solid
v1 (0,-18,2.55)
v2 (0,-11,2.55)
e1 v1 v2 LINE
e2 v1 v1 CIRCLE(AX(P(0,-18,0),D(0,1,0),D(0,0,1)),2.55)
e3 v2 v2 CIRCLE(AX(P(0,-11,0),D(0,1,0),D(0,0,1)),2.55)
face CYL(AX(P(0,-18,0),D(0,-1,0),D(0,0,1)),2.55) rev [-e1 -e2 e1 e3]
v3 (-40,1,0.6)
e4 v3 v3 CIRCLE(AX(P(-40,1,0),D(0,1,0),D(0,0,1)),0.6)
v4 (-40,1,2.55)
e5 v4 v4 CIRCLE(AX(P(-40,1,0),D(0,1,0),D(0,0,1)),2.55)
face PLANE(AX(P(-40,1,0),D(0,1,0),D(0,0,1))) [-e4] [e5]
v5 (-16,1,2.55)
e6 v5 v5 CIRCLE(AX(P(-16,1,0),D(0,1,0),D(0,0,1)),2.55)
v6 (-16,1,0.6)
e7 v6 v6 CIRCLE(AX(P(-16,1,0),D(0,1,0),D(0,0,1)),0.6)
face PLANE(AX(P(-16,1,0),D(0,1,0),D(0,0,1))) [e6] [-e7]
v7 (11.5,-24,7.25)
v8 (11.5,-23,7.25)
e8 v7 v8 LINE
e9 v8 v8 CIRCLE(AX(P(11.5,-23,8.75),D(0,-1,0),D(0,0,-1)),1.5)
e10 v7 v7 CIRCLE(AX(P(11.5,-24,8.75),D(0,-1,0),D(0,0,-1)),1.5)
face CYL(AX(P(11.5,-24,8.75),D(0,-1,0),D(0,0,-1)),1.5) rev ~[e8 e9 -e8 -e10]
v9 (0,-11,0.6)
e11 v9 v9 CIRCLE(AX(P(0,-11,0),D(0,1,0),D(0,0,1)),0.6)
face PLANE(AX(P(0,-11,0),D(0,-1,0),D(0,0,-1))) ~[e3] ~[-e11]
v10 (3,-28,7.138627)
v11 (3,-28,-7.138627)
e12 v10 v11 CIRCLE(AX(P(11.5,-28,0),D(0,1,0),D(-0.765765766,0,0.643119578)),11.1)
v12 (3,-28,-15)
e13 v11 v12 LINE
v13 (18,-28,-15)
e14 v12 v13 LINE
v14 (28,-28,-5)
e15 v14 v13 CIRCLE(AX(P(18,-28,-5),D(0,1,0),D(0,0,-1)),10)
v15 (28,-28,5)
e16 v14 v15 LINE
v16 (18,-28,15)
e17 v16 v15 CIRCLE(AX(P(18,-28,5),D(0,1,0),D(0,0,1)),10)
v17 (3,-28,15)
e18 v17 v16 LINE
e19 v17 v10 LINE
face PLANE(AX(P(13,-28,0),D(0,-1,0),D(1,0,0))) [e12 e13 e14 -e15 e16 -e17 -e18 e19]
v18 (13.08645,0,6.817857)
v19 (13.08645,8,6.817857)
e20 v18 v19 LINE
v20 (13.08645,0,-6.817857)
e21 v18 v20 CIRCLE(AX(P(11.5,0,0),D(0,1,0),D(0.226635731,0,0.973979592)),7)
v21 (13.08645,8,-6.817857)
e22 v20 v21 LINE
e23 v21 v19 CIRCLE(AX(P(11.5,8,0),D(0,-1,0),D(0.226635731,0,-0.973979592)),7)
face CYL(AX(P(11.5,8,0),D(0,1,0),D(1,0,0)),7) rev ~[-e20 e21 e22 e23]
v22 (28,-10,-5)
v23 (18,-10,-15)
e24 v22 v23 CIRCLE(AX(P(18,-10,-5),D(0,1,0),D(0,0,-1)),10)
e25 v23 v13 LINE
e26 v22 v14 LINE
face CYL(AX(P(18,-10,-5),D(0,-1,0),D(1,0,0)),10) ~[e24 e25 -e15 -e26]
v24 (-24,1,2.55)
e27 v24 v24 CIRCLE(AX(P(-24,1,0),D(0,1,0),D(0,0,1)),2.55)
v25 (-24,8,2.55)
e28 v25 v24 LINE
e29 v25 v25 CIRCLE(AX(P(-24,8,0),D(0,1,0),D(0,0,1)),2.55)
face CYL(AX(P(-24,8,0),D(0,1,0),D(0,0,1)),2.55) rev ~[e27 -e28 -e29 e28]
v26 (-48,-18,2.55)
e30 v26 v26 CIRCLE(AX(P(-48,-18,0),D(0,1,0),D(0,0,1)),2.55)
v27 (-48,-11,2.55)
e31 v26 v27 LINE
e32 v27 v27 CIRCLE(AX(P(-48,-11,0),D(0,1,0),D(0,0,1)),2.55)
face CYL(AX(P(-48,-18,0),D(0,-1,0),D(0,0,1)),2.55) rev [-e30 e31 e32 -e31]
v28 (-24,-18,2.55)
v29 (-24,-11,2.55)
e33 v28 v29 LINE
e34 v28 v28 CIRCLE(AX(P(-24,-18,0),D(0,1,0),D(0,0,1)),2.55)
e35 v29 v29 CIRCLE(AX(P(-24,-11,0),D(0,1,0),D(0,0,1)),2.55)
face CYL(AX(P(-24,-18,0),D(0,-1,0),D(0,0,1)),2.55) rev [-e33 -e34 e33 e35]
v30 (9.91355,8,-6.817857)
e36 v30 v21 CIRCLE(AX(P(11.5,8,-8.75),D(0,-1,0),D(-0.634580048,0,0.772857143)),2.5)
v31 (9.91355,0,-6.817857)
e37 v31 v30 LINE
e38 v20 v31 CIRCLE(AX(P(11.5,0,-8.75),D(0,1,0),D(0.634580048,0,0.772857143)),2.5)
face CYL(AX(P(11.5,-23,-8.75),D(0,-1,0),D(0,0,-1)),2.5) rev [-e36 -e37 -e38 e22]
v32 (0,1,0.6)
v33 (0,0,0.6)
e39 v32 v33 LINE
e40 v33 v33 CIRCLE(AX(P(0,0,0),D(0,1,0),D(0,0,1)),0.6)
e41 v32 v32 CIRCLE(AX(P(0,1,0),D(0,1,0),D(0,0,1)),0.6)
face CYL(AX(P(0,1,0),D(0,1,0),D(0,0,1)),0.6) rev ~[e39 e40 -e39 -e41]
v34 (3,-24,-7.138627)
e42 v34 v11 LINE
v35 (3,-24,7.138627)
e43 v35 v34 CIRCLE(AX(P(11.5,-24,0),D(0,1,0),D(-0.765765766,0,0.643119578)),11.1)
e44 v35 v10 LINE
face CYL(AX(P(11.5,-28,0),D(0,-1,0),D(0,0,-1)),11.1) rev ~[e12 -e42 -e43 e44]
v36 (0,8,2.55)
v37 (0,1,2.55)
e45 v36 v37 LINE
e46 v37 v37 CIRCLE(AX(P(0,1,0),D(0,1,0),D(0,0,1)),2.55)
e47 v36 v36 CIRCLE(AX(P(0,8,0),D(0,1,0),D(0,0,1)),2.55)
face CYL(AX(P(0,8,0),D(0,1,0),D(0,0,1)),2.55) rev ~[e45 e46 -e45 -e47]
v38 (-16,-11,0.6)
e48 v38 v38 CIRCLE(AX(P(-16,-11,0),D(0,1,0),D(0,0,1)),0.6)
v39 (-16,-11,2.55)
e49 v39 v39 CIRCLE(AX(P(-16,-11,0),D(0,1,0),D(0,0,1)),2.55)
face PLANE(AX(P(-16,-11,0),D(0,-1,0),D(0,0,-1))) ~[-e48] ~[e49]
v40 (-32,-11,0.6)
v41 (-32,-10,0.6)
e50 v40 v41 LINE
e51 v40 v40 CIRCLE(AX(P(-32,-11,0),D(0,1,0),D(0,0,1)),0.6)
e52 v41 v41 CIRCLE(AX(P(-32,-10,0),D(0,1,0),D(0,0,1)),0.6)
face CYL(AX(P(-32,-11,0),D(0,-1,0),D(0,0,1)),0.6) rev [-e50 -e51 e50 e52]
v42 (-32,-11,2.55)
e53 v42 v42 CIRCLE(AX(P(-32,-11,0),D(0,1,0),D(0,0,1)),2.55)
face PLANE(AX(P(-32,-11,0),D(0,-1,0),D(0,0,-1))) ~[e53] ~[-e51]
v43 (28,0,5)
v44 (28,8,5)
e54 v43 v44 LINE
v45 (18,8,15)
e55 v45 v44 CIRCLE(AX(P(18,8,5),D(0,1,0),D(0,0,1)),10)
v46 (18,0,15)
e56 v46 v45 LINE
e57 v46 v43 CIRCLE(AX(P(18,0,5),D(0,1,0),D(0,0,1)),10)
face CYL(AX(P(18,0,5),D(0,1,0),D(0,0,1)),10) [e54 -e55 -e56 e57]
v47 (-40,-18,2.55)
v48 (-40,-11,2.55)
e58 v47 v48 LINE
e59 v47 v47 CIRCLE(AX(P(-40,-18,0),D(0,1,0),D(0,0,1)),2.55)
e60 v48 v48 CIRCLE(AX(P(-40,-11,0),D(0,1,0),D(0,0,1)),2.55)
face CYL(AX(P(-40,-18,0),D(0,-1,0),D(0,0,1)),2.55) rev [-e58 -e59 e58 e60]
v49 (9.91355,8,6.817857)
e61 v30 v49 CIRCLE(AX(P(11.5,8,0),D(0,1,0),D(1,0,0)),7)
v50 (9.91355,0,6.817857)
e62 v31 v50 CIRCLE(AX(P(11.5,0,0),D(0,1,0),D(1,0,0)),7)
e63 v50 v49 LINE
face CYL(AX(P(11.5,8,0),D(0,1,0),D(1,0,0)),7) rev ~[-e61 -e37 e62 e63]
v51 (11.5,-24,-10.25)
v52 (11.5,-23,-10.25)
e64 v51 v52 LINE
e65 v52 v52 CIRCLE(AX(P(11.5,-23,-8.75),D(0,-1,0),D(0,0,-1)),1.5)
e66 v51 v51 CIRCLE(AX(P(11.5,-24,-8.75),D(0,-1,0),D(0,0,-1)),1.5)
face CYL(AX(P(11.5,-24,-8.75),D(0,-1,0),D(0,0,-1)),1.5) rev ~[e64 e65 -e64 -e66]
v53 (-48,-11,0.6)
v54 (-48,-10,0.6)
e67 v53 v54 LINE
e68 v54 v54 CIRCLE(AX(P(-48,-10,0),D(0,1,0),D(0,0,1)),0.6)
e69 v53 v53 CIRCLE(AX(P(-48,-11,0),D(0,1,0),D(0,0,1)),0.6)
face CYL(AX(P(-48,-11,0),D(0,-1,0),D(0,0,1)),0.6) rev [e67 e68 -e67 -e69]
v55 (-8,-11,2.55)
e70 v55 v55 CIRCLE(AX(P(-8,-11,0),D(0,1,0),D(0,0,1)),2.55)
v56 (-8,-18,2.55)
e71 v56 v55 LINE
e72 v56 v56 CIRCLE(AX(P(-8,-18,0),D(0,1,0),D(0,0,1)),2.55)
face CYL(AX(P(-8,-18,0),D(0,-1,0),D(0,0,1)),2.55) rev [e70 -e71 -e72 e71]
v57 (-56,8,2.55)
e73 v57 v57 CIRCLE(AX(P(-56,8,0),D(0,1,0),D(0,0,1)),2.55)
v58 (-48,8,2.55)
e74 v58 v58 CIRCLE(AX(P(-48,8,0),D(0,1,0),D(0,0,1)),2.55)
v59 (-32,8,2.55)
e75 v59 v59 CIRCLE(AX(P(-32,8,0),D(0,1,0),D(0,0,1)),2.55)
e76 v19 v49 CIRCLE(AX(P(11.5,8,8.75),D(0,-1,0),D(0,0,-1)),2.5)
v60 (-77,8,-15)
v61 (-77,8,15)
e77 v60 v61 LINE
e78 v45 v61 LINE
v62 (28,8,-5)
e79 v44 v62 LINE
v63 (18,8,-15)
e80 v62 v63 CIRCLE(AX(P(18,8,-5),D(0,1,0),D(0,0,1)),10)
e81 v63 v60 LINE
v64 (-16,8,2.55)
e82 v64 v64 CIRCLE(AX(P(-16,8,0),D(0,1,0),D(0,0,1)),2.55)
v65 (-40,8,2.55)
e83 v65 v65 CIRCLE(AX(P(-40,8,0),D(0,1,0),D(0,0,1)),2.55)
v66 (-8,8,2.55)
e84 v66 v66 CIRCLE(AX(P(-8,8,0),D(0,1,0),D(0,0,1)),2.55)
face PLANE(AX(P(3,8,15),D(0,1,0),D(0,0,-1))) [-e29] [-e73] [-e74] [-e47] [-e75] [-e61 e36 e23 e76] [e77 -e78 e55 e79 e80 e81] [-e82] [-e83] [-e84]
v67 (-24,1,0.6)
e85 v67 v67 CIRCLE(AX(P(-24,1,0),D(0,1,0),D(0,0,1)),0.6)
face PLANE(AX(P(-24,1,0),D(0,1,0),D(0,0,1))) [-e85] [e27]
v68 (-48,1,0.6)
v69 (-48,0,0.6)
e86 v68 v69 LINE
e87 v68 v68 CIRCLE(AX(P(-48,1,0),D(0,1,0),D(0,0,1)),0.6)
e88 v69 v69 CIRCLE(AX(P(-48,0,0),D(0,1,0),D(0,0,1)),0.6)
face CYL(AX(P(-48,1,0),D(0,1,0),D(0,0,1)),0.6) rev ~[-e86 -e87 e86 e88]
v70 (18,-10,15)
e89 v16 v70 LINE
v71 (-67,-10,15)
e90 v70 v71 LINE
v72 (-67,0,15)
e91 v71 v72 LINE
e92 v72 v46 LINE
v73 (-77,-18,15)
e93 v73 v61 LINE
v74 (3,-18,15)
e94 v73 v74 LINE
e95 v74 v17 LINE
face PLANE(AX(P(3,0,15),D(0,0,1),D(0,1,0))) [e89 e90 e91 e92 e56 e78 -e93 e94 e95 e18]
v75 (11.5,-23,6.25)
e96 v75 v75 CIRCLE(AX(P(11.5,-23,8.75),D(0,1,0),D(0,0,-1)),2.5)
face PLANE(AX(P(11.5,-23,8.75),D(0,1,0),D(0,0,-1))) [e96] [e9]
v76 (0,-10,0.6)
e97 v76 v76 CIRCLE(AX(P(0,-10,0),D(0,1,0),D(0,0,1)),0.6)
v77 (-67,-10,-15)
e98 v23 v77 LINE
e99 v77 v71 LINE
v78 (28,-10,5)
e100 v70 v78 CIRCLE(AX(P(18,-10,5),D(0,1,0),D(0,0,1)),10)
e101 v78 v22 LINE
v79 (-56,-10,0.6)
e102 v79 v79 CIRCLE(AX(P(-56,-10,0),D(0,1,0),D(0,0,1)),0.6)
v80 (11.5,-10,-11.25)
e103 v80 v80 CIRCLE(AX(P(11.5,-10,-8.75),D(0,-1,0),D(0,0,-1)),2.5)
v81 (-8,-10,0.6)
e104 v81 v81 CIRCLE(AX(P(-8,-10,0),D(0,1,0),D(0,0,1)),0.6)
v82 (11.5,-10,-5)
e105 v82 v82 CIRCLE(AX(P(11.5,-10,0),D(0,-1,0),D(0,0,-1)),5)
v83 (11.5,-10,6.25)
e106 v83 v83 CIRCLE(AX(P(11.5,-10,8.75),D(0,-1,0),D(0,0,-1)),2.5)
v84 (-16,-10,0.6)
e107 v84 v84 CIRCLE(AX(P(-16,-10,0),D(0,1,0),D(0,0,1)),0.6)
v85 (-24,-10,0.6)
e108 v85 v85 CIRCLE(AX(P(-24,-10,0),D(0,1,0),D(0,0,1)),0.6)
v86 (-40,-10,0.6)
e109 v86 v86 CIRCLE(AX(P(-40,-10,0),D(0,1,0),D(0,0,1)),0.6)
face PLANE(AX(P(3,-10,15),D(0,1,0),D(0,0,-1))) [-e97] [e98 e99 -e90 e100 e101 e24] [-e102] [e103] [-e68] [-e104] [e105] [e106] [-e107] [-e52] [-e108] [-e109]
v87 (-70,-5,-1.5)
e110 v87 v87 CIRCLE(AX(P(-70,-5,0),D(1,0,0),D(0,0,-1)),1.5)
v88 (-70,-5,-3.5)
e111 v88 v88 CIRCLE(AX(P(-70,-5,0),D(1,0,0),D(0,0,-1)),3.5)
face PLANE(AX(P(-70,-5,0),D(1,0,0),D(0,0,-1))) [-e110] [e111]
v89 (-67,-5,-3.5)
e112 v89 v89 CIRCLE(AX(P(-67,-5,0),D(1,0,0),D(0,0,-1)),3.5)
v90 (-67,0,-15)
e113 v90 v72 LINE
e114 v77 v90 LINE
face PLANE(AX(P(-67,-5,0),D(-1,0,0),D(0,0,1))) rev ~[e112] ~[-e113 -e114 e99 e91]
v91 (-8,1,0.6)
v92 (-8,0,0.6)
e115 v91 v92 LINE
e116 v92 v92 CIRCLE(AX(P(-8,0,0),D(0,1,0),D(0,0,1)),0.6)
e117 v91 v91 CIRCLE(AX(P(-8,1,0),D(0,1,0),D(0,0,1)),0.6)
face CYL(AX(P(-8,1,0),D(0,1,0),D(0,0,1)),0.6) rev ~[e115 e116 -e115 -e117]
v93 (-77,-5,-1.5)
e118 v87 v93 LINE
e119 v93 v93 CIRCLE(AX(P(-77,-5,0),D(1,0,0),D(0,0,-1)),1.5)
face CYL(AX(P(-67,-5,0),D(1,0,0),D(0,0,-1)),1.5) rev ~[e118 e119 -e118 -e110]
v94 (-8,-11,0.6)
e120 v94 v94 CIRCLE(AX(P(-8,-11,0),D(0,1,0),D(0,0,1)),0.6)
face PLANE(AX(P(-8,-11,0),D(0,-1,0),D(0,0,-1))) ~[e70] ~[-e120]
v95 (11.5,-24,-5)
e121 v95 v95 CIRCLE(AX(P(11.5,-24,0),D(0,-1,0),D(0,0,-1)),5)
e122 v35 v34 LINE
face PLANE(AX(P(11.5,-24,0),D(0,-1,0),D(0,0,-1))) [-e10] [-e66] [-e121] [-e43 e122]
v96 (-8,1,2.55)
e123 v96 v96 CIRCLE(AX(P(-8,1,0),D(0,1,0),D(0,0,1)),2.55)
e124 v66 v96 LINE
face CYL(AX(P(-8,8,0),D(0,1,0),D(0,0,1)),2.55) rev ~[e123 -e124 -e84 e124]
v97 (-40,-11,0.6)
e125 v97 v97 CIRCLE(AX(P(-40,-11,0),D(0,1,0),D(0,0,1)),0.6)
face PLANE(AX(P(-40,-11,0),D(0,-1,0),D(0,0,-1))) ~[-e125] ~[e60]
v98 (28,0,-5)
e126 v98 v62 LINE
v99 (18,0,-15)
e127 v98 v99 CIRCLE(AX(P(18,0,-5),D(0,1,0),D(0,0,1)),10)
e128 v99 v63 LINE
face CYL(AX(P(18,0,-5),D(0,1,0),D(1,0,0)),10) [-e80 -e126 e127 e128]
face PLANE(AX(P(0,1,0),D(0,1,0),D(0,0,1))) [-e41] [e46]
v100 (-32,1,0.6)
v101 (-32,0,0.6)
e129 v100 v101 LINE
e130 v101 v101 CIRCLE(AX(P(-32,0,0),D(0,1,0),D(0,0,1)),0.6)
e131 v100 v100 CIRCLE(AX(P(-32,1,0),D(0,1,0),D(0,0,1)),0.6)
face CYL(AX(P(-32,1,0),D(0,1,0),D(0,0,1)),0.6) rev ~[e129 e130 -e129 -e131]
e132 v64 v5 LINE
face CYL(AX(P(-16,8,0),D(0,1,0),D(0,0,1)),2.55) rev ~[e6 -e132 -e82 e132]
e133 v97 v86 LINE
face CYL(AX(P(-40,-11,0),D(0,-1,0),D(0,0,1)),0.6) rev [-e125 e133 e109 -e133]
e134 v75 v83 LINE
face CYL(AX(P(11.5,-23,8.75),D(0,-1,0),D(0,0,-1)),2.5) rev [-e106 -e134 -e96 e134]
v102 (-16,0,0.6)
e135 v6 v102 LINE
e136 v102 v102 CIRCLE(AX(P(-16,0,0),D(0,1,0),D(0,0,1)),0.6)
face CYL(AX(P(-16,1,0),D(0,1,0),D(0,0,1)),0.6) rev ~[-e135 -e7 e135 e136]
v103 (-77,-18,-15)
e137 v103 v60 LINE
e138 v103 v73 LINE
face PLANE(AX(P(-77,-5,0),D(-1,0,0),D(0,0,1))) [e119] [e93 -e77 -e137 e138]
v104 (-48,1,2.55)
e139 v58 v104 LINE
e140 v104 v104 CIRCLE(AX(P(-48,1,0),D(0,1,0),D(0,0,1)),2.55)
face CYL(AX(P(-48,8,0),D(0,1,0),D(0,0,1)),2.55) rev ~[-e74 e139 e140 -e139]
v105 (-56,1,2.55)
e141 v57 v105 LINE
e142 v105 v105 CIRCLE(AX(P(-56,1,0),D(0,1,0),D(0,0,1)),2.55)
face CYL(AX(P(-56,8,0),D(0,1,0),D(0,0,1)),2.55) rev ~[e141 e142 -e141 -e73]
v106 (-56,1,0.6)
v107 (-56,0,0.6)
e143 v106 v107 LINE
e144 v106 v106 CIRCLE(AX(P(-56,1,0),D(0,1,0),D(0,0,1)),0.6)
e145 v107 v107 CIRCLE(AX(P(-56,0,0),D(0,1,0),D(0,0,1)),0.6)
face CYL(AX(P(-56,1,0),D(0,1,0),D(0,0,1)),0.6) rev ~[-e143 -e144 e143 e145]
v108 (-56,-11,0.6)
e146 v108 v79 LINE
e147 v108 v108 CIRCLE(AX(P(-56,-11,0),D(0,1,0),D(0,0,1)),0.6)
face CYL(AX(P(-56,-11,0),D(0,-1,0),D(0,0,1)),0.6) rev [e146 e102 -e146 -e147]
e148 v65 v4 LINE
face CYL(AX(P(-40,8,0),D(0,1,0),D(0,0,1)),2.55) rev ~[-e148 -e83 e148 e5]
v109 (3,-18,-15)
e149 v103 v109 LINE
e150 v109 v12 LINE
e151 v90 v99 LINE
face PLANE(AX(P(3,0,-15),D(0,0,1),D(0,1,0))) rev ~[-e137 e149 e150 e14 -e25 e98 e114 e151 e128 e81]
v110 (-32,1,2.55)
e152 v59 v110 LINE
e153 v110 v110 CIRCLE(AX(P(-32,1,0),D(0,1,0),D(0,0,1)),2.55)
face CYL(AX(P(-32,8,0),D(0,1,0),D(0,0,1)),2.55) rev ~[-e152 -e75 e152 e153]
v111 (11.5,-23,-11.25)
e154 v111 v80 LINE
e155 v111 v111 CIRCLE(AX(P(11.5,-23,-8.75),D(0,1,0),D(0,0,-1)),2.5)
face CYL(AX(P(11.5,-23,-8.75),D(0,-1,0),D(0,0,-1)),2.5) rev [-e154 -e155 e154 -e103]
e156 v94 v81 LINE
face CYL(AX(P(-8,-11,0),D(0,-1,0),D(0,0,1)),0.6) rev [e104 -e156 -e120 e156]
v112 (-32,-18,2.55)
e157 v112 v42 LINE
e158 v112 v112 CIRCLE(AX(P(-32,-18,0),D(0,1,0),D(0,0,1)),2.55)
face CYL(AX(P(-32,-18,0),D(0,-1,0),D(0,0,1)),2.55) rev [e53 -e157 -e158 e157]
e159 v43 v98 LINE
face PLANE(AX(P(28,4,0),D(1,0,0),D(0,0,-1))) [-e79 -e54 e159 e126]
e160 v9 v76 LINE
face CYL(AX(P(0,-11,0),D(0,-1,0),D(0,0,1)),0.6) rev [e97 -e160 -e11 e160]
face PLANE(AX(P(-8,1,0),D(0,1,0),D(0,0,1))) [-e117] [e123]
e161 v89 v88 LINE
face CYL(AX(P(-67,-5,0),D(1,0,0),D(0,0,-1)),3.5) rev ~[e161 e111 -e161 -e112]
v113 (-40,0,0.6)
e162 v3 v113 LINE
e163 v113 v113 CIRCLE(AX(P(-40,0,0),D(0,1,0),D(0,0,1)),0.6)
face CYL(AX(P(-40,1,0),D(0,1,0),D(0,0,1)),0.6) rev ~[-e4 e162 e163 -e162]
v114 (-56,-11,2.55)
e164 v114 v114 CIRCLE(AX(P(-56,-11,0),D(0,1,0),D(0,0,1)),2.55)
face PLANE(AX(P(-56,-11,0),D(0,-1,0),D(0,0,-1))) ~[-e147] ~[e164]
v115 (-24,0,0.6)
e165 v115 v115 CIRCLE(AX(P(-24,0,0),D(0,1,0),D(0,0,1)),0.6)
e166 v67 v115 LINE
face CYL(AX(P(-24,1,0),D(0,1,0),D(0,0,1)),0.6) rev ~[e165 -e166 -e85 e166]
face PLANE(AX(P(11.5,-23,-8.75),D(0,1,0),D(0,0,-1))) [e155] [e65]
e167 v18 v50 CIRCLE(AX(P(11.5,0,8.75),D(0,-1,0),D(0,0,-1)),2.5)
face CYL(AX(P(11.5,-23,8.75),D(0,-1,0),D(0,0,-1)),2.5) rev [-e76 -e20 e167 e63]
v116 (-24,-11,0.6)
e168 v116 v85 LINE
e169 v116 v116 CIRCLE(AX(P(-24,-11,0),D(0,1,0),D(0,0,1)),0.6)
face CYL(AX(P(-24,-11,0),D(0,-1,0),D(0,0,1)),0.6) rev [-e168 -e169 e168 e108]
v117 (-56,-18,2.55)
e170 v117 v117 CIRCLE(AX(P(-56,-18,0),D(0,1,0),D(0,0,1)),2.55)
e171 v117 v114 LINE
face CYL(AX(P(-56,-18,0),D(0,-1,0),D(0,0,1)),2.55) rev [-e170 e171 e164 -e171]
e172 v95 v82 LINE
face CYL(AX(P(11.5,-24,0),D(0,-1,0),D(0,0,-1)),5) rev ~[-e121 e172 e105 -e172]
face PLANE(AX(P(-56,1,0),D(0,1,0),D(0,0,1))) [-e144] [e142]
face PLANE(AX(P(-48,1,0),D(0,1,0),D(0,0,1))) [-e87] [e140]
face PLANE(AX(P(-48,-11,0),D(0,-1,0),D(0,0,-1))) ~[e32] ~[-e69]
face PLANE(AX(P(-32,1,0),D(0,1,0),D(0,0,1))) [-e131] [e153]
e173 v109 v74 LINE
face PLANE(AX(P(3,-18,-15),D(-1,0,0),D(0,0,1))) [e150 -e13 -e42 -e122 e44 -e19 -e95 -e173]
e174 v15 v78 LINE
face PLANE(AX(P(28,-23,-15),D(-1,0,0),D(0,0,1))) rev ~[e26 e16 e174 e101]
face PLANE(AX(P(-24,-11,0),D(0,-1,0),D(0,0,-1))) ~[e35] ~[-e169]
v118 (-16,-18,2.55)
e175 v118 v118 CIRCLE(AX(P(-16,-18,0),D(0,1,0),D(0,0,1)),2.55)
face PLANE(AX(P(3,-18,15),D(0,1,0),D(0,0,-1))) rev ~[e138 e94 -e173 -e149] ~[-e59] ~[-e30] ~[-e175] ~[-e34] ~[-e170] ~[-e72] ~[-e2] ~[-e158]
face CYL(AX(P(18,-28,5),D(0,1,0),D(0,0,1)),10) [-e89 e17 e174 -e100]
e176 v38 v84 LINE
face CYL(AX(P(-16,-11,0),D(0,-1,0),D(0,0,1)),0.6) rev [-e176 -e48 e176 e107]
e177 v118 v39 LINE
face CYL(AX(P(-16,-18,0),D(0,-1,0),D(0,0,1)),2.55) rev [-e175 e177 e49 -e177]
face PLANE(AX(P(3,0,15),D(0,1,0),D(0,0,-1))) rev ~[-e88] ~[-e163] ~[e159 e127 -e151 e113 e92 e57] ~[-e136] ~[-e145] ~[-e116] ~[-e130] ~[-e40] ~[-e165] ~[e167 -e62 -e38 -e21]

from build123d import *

# Parameters (mm, degrees)
SKETCH2_W                = 75
SKETCH2_H                = 30
BOSS_EXTRUDE1_DEPTH      = 8
SKETCH3_R                = 2.55
CUT_EXTRUDE1_DEPTH       = 7
SKETCH4_R                = 0.6
CUT_EXTRUDE2_DEPTH       = 1
LPATTERN3_COUNT          = 8
LPATTERN3_PITCH          = 8
BOSS_EXTRUDE2_DEPTH      = 5
BOSS_EXTRUDE2_DEPTH_BACK = 5
SKETCH5_W                = 30
SKETCH5_H                = 26
SKETCH6_W                = 30
SKETCH6_H                = 8
BOSS_EXTRUDE3_DEPTH      = 25
SKETCH8_W                = 25
SKETCH8_H                = 30
BOSS_EXTRUDE4_DEPTH      = 5
SKETCH9_W                = 30
SKETCH9_H                = 30
BOSS_EXTRUDE5_DEPTH      = 5
SKETCH11_R               = 11.1
CUT_EXTRUDE3_DEPTH       = 4
SKETCH13_R               = 1.5
CUT_EXTRUDE4_DEPTH       = 85.72307832
SKETCH16_W               = 30
SKETCH16_H               = 8
BOSS_EXTRUDE6_DEPTH      = 25
CUT_EXTRUDE5_DEPTH       = 81.486023631
CUT_EXTRUDE5_DEPTH_BACK  = 13
SKETCH14_R               = 2.5
SKETCH15_R               = 5
CUT_EXTRUDE6_DEPTH       = 85.72307832
FILLET2_R                = 10
FILLET3_R                = 10
CUT_EXTRUDE7_REACH       = 88.313
SKETCH18_R               = 7
SKETCH19_R               = 1.5
CUT_EXTRUDE8_DEPTH       = 101.169855745
SKETCH21_R               = 3.5
CUT_EXTRUDE9_DEPTH       = 3
SKETCH22_W               = 5
SKETCH22_H               = 30
CUT_EXTRUDE10_DEPTH      = 83.643814046


with BuildPart() as part:
    # Sketch2 → Boss-Extrude1 (new body)
    with BuildSketch(Plane(origin=(0, 0, 0), x_dir=(1, 0, 0), z_dir=(0, 1, 0))):
        with Locations((-34.5, 0)):
            Rectangle(SKETCH2_W, SKETCH2_H)
    extrude(amount=BOSS_EXTRUDE1_DEPTH)

    # Sketch3 → Cut-Extrude1 (cut)
    with BuildSketch(Plane(origin=(0, 8, 0), x_dir=(1, 0, 0), z_dir=(0, 1, 0))):
        with Locations(Location((0, 0, 0), (0, 0, 270))):
            Circle(SKETCH3_R)
    cut_extrude1 = extrude(amount=-CUT_EXTRUDE1_DEPTH, mode=Mode.SUBTRACT)

    # Sketch4 → Cut-Extrude2 (cut)
    with BuildSketch(Plane(origin=(0, 1, 0), x_dir=(1, 0, 0), z_dir=(0, 1, 0))):
        with Locations(Location((0, 0, 0), (0, 0, 270))):
            Circle(SKETCH4_R)
    cut_extrude2 = extrude(amount=-CUT_EXTRUDE2_DEPTH, mode=Mode.SUBTRACT)

    # LPattern3: Cut-Extrude1, Cut-Extrude2 ×8
    with Locations(*[(-i * LPATTERN3_PITCH, 0, 0) for i in range(1, LPATTERN3_COUNT)]):
        add(cut_extrude1, mode=Mode.SUBTRACT)
        add(cut_extrude2, mode=Mode.SUBTRACT)


with BuildPart() as body_2:
    # Mirror2: mirrored copy
    add(part.part.mirror(Plane(origin=(0, -5, 0), x_dir=(0, 0, 1), z_dir=(0, -1, 0))))


with BuildPart() as part_1:
    add(part.part)

    add(body_2.part)  # Boss-Extrude2 merges body 2
    # Sketch5 → Boss-Extrude2 (add, two sides: drawn at the far end of the back side and taken through both)
    with BuildSketch(Plane.ZY.offset(72).offset(-BOSS_EXTRUDE2_DEPTH_BACK)):
        with Locations((0, -5)):
            Rectangle(SKETCH5_W, SKETCH5_H)
    extrude(amount=BOSS_EXTRUDE2_DEPTH + BOSS_EXTRUDE2_DEPTH_BACK)

    # Sketch6 → Boss-Extrude3 (add)
    with BuildSketch(Plane(origin=(3, 0, 0), x_dir=(0, 0, -1), z_dir=(1, 0, 0))):
        with Locations((0, -14)):
            Rectangle(SKETCH6_W, SKETCH6_H)
    extrude(amount=BOSS_EXTRUDE3_DEPTH)

    # Sketch8 → Boss-Extrude4 (add)
    with BuildSketch(Plane.XZ.offset(18)):
        with Locations((15.5, 0)):
            Rectangle(SKETCH8_W, SKETCH8_H)
    extrude(amount=BOSS_EXTRUDE4_DEPTH)

    # Sketch9 → Boss-Extrude5 (add)
    with BuildSketch(Plane.XZ.offset(23)):
        with Locations((13, 0)):
            Rectangle(SKETCH9_W, SKETCH9_H)
    extrude(amount=BOSS_EXTRUDE5_DEPTH)

    # Sketch11 → Cut-Extrude3 (cut)
    with BuildSketch(Plane.XZ.offset(28)):
        with Locations(Location((11.5, 0, 0), (0, 0, 270))):
            Circle(SKETCH11_R)
    extrude(amount=-CUT_EXTRUDE3_DEPTH, mode=Mode.SUBTRACT)

    # Sketch13 → Cut-Extrude4 (cut, through all)
    with BuildSketch(Plane.XZ.offset(24)):
        with Locations(Location((11.5, 8.75, 0), (0, 0, 270))):
            Circle(SKETCH13_R)
        with Locations(Location((11.5, -8.75, 0), (0, 0, 270))):
            Circle(SKETCH13_R)
    extrude(amount=-CUT_EXTRUDE4_DEPTH, mode=Mode.SUBTRACT)

    # Sketch16 → Boss-Extrude6 (add)
    with BuildSketch(Plane(origin=(3, 0, 0), x_dir=(0, 0, -1), z_dir=(1, 0, 0))):
        with Locations((0, 4)):
            Rectangle(SKETCH16_W, SKETCH16_H)
    extrude(amount=BOSS_EXTRUDE6_DEPTH)

    # Sketch14 → Cut-Extrude5 (cut, two sides: drawn at the far end of the back side and taken through both)
    with BuildSketch(Plane(origin=(0, -10, 0), x_dir=(1, 0, 0), z_dir=(0, 1, 0)).offset(-CUT_EXTRUDE5_DEPTH_BACK)):
        with Locations(Location((11.5, 8.75, 0), (0, 0, 90))):
            Circle(SKETCH14_R)
        with Locations(Location((11.5, -8.75, 0), (0, 0, 90))):
            Circle(SKETCH14_R)
    extrude(amount=CUT_EXTRUDE5_DEPTH + CUT_EXTRUDE5_DEPTH_BACK, mode=Mode.SUBTRACT)

    # Sketch15 → Cut-Extrude6 (cut, through all)
    with BuildSketch(Plane.XZ.offset(24)):
        with Locations(Location((11.5, 0, 0), (0, 0, 270))):
            Circle(SKETCH15_R)
    extrude(amount=-CUT_EXTRUDE6_DEPTH, mode=Mode.SUBTRACT)

    # Fillet2
    fillet2_edges = [part_1.edges().sort_by_distance(p)[0] for p in [
        (28, -19, 15),
        (28, -19, -15),
    ]]
    fillet(fillet2_edges, radius=FILLET2_R)

    # Fillet3
    fillet3_edges = [part_1.edges().sort_by_distance(p)[0] for p in [
        (28, 4, 15),
        (28, 4, -15),
    ]]
    fillet(fillet3_edges, radius=FILLET3_R)

    # Sketch18 → Cut-Extrude7 (cut, up to next)
    with BuildSketch(Plane(origin=(0, 8, 0), x_dir=(1, 0, 0), z_dir=(0, 1, 0)), mode=Mode.PRIVATE) as cut_extrude7_sk1:
        with Locations((11.5, 0)):
            Circle(SKETCH18_R)
    cut_extrude7_tool1 = extrude(cut_extrude7_sk1.sketch, amount=-CUT_EXTRUDE7_REACH, mode=Mode.PRIVATE) & part_1.part
    add(cut_extrude7_tool1.solids().sort_by_distance((11.5, 8, 0))[0], mode=Mode.SUBTRACT)

    # Sketch19 → Cut-Extrude8 (cut, through all)
    with BuildSketch(Plane(origin=(-67, 0, 0), x_dir=(0, 0, -1), z_dir=(1, 0, 0))):
        with Locations((0, -5)):
            Circle(SKETCH19_R)
    extrude(amount=-CUT_EXTRUDE8_DEPTH, mode=Mode.SUBTRACT)

    # Sketch21 → Cut-Extrude9 (cut)
    with BuildSketch(Plane(origin=(-67, 0, 0), x_dir=(0, 0, -1), z_dir=(1, 0, 0))):
        with Locations((0, -5)):
            Circle(SKETCH21_R)
    extrude(amount=-CUT_EXTRUDE9_DEPTH, mode=Mode.SUBTRACT)

    # Sketch22 → Cut-Extrude10 (cut, through all)
    with BuildSketch(Plane.XZ.offset(18)):
        with Locations((0.5, 0)):
            Rectangle(SKETCH22_W, SKETCH22_H)
    extrude(amount=CUT_EXTRUDE10_DEPTH, mode=Mode.SUBTRACT)


solid = part_1.part
